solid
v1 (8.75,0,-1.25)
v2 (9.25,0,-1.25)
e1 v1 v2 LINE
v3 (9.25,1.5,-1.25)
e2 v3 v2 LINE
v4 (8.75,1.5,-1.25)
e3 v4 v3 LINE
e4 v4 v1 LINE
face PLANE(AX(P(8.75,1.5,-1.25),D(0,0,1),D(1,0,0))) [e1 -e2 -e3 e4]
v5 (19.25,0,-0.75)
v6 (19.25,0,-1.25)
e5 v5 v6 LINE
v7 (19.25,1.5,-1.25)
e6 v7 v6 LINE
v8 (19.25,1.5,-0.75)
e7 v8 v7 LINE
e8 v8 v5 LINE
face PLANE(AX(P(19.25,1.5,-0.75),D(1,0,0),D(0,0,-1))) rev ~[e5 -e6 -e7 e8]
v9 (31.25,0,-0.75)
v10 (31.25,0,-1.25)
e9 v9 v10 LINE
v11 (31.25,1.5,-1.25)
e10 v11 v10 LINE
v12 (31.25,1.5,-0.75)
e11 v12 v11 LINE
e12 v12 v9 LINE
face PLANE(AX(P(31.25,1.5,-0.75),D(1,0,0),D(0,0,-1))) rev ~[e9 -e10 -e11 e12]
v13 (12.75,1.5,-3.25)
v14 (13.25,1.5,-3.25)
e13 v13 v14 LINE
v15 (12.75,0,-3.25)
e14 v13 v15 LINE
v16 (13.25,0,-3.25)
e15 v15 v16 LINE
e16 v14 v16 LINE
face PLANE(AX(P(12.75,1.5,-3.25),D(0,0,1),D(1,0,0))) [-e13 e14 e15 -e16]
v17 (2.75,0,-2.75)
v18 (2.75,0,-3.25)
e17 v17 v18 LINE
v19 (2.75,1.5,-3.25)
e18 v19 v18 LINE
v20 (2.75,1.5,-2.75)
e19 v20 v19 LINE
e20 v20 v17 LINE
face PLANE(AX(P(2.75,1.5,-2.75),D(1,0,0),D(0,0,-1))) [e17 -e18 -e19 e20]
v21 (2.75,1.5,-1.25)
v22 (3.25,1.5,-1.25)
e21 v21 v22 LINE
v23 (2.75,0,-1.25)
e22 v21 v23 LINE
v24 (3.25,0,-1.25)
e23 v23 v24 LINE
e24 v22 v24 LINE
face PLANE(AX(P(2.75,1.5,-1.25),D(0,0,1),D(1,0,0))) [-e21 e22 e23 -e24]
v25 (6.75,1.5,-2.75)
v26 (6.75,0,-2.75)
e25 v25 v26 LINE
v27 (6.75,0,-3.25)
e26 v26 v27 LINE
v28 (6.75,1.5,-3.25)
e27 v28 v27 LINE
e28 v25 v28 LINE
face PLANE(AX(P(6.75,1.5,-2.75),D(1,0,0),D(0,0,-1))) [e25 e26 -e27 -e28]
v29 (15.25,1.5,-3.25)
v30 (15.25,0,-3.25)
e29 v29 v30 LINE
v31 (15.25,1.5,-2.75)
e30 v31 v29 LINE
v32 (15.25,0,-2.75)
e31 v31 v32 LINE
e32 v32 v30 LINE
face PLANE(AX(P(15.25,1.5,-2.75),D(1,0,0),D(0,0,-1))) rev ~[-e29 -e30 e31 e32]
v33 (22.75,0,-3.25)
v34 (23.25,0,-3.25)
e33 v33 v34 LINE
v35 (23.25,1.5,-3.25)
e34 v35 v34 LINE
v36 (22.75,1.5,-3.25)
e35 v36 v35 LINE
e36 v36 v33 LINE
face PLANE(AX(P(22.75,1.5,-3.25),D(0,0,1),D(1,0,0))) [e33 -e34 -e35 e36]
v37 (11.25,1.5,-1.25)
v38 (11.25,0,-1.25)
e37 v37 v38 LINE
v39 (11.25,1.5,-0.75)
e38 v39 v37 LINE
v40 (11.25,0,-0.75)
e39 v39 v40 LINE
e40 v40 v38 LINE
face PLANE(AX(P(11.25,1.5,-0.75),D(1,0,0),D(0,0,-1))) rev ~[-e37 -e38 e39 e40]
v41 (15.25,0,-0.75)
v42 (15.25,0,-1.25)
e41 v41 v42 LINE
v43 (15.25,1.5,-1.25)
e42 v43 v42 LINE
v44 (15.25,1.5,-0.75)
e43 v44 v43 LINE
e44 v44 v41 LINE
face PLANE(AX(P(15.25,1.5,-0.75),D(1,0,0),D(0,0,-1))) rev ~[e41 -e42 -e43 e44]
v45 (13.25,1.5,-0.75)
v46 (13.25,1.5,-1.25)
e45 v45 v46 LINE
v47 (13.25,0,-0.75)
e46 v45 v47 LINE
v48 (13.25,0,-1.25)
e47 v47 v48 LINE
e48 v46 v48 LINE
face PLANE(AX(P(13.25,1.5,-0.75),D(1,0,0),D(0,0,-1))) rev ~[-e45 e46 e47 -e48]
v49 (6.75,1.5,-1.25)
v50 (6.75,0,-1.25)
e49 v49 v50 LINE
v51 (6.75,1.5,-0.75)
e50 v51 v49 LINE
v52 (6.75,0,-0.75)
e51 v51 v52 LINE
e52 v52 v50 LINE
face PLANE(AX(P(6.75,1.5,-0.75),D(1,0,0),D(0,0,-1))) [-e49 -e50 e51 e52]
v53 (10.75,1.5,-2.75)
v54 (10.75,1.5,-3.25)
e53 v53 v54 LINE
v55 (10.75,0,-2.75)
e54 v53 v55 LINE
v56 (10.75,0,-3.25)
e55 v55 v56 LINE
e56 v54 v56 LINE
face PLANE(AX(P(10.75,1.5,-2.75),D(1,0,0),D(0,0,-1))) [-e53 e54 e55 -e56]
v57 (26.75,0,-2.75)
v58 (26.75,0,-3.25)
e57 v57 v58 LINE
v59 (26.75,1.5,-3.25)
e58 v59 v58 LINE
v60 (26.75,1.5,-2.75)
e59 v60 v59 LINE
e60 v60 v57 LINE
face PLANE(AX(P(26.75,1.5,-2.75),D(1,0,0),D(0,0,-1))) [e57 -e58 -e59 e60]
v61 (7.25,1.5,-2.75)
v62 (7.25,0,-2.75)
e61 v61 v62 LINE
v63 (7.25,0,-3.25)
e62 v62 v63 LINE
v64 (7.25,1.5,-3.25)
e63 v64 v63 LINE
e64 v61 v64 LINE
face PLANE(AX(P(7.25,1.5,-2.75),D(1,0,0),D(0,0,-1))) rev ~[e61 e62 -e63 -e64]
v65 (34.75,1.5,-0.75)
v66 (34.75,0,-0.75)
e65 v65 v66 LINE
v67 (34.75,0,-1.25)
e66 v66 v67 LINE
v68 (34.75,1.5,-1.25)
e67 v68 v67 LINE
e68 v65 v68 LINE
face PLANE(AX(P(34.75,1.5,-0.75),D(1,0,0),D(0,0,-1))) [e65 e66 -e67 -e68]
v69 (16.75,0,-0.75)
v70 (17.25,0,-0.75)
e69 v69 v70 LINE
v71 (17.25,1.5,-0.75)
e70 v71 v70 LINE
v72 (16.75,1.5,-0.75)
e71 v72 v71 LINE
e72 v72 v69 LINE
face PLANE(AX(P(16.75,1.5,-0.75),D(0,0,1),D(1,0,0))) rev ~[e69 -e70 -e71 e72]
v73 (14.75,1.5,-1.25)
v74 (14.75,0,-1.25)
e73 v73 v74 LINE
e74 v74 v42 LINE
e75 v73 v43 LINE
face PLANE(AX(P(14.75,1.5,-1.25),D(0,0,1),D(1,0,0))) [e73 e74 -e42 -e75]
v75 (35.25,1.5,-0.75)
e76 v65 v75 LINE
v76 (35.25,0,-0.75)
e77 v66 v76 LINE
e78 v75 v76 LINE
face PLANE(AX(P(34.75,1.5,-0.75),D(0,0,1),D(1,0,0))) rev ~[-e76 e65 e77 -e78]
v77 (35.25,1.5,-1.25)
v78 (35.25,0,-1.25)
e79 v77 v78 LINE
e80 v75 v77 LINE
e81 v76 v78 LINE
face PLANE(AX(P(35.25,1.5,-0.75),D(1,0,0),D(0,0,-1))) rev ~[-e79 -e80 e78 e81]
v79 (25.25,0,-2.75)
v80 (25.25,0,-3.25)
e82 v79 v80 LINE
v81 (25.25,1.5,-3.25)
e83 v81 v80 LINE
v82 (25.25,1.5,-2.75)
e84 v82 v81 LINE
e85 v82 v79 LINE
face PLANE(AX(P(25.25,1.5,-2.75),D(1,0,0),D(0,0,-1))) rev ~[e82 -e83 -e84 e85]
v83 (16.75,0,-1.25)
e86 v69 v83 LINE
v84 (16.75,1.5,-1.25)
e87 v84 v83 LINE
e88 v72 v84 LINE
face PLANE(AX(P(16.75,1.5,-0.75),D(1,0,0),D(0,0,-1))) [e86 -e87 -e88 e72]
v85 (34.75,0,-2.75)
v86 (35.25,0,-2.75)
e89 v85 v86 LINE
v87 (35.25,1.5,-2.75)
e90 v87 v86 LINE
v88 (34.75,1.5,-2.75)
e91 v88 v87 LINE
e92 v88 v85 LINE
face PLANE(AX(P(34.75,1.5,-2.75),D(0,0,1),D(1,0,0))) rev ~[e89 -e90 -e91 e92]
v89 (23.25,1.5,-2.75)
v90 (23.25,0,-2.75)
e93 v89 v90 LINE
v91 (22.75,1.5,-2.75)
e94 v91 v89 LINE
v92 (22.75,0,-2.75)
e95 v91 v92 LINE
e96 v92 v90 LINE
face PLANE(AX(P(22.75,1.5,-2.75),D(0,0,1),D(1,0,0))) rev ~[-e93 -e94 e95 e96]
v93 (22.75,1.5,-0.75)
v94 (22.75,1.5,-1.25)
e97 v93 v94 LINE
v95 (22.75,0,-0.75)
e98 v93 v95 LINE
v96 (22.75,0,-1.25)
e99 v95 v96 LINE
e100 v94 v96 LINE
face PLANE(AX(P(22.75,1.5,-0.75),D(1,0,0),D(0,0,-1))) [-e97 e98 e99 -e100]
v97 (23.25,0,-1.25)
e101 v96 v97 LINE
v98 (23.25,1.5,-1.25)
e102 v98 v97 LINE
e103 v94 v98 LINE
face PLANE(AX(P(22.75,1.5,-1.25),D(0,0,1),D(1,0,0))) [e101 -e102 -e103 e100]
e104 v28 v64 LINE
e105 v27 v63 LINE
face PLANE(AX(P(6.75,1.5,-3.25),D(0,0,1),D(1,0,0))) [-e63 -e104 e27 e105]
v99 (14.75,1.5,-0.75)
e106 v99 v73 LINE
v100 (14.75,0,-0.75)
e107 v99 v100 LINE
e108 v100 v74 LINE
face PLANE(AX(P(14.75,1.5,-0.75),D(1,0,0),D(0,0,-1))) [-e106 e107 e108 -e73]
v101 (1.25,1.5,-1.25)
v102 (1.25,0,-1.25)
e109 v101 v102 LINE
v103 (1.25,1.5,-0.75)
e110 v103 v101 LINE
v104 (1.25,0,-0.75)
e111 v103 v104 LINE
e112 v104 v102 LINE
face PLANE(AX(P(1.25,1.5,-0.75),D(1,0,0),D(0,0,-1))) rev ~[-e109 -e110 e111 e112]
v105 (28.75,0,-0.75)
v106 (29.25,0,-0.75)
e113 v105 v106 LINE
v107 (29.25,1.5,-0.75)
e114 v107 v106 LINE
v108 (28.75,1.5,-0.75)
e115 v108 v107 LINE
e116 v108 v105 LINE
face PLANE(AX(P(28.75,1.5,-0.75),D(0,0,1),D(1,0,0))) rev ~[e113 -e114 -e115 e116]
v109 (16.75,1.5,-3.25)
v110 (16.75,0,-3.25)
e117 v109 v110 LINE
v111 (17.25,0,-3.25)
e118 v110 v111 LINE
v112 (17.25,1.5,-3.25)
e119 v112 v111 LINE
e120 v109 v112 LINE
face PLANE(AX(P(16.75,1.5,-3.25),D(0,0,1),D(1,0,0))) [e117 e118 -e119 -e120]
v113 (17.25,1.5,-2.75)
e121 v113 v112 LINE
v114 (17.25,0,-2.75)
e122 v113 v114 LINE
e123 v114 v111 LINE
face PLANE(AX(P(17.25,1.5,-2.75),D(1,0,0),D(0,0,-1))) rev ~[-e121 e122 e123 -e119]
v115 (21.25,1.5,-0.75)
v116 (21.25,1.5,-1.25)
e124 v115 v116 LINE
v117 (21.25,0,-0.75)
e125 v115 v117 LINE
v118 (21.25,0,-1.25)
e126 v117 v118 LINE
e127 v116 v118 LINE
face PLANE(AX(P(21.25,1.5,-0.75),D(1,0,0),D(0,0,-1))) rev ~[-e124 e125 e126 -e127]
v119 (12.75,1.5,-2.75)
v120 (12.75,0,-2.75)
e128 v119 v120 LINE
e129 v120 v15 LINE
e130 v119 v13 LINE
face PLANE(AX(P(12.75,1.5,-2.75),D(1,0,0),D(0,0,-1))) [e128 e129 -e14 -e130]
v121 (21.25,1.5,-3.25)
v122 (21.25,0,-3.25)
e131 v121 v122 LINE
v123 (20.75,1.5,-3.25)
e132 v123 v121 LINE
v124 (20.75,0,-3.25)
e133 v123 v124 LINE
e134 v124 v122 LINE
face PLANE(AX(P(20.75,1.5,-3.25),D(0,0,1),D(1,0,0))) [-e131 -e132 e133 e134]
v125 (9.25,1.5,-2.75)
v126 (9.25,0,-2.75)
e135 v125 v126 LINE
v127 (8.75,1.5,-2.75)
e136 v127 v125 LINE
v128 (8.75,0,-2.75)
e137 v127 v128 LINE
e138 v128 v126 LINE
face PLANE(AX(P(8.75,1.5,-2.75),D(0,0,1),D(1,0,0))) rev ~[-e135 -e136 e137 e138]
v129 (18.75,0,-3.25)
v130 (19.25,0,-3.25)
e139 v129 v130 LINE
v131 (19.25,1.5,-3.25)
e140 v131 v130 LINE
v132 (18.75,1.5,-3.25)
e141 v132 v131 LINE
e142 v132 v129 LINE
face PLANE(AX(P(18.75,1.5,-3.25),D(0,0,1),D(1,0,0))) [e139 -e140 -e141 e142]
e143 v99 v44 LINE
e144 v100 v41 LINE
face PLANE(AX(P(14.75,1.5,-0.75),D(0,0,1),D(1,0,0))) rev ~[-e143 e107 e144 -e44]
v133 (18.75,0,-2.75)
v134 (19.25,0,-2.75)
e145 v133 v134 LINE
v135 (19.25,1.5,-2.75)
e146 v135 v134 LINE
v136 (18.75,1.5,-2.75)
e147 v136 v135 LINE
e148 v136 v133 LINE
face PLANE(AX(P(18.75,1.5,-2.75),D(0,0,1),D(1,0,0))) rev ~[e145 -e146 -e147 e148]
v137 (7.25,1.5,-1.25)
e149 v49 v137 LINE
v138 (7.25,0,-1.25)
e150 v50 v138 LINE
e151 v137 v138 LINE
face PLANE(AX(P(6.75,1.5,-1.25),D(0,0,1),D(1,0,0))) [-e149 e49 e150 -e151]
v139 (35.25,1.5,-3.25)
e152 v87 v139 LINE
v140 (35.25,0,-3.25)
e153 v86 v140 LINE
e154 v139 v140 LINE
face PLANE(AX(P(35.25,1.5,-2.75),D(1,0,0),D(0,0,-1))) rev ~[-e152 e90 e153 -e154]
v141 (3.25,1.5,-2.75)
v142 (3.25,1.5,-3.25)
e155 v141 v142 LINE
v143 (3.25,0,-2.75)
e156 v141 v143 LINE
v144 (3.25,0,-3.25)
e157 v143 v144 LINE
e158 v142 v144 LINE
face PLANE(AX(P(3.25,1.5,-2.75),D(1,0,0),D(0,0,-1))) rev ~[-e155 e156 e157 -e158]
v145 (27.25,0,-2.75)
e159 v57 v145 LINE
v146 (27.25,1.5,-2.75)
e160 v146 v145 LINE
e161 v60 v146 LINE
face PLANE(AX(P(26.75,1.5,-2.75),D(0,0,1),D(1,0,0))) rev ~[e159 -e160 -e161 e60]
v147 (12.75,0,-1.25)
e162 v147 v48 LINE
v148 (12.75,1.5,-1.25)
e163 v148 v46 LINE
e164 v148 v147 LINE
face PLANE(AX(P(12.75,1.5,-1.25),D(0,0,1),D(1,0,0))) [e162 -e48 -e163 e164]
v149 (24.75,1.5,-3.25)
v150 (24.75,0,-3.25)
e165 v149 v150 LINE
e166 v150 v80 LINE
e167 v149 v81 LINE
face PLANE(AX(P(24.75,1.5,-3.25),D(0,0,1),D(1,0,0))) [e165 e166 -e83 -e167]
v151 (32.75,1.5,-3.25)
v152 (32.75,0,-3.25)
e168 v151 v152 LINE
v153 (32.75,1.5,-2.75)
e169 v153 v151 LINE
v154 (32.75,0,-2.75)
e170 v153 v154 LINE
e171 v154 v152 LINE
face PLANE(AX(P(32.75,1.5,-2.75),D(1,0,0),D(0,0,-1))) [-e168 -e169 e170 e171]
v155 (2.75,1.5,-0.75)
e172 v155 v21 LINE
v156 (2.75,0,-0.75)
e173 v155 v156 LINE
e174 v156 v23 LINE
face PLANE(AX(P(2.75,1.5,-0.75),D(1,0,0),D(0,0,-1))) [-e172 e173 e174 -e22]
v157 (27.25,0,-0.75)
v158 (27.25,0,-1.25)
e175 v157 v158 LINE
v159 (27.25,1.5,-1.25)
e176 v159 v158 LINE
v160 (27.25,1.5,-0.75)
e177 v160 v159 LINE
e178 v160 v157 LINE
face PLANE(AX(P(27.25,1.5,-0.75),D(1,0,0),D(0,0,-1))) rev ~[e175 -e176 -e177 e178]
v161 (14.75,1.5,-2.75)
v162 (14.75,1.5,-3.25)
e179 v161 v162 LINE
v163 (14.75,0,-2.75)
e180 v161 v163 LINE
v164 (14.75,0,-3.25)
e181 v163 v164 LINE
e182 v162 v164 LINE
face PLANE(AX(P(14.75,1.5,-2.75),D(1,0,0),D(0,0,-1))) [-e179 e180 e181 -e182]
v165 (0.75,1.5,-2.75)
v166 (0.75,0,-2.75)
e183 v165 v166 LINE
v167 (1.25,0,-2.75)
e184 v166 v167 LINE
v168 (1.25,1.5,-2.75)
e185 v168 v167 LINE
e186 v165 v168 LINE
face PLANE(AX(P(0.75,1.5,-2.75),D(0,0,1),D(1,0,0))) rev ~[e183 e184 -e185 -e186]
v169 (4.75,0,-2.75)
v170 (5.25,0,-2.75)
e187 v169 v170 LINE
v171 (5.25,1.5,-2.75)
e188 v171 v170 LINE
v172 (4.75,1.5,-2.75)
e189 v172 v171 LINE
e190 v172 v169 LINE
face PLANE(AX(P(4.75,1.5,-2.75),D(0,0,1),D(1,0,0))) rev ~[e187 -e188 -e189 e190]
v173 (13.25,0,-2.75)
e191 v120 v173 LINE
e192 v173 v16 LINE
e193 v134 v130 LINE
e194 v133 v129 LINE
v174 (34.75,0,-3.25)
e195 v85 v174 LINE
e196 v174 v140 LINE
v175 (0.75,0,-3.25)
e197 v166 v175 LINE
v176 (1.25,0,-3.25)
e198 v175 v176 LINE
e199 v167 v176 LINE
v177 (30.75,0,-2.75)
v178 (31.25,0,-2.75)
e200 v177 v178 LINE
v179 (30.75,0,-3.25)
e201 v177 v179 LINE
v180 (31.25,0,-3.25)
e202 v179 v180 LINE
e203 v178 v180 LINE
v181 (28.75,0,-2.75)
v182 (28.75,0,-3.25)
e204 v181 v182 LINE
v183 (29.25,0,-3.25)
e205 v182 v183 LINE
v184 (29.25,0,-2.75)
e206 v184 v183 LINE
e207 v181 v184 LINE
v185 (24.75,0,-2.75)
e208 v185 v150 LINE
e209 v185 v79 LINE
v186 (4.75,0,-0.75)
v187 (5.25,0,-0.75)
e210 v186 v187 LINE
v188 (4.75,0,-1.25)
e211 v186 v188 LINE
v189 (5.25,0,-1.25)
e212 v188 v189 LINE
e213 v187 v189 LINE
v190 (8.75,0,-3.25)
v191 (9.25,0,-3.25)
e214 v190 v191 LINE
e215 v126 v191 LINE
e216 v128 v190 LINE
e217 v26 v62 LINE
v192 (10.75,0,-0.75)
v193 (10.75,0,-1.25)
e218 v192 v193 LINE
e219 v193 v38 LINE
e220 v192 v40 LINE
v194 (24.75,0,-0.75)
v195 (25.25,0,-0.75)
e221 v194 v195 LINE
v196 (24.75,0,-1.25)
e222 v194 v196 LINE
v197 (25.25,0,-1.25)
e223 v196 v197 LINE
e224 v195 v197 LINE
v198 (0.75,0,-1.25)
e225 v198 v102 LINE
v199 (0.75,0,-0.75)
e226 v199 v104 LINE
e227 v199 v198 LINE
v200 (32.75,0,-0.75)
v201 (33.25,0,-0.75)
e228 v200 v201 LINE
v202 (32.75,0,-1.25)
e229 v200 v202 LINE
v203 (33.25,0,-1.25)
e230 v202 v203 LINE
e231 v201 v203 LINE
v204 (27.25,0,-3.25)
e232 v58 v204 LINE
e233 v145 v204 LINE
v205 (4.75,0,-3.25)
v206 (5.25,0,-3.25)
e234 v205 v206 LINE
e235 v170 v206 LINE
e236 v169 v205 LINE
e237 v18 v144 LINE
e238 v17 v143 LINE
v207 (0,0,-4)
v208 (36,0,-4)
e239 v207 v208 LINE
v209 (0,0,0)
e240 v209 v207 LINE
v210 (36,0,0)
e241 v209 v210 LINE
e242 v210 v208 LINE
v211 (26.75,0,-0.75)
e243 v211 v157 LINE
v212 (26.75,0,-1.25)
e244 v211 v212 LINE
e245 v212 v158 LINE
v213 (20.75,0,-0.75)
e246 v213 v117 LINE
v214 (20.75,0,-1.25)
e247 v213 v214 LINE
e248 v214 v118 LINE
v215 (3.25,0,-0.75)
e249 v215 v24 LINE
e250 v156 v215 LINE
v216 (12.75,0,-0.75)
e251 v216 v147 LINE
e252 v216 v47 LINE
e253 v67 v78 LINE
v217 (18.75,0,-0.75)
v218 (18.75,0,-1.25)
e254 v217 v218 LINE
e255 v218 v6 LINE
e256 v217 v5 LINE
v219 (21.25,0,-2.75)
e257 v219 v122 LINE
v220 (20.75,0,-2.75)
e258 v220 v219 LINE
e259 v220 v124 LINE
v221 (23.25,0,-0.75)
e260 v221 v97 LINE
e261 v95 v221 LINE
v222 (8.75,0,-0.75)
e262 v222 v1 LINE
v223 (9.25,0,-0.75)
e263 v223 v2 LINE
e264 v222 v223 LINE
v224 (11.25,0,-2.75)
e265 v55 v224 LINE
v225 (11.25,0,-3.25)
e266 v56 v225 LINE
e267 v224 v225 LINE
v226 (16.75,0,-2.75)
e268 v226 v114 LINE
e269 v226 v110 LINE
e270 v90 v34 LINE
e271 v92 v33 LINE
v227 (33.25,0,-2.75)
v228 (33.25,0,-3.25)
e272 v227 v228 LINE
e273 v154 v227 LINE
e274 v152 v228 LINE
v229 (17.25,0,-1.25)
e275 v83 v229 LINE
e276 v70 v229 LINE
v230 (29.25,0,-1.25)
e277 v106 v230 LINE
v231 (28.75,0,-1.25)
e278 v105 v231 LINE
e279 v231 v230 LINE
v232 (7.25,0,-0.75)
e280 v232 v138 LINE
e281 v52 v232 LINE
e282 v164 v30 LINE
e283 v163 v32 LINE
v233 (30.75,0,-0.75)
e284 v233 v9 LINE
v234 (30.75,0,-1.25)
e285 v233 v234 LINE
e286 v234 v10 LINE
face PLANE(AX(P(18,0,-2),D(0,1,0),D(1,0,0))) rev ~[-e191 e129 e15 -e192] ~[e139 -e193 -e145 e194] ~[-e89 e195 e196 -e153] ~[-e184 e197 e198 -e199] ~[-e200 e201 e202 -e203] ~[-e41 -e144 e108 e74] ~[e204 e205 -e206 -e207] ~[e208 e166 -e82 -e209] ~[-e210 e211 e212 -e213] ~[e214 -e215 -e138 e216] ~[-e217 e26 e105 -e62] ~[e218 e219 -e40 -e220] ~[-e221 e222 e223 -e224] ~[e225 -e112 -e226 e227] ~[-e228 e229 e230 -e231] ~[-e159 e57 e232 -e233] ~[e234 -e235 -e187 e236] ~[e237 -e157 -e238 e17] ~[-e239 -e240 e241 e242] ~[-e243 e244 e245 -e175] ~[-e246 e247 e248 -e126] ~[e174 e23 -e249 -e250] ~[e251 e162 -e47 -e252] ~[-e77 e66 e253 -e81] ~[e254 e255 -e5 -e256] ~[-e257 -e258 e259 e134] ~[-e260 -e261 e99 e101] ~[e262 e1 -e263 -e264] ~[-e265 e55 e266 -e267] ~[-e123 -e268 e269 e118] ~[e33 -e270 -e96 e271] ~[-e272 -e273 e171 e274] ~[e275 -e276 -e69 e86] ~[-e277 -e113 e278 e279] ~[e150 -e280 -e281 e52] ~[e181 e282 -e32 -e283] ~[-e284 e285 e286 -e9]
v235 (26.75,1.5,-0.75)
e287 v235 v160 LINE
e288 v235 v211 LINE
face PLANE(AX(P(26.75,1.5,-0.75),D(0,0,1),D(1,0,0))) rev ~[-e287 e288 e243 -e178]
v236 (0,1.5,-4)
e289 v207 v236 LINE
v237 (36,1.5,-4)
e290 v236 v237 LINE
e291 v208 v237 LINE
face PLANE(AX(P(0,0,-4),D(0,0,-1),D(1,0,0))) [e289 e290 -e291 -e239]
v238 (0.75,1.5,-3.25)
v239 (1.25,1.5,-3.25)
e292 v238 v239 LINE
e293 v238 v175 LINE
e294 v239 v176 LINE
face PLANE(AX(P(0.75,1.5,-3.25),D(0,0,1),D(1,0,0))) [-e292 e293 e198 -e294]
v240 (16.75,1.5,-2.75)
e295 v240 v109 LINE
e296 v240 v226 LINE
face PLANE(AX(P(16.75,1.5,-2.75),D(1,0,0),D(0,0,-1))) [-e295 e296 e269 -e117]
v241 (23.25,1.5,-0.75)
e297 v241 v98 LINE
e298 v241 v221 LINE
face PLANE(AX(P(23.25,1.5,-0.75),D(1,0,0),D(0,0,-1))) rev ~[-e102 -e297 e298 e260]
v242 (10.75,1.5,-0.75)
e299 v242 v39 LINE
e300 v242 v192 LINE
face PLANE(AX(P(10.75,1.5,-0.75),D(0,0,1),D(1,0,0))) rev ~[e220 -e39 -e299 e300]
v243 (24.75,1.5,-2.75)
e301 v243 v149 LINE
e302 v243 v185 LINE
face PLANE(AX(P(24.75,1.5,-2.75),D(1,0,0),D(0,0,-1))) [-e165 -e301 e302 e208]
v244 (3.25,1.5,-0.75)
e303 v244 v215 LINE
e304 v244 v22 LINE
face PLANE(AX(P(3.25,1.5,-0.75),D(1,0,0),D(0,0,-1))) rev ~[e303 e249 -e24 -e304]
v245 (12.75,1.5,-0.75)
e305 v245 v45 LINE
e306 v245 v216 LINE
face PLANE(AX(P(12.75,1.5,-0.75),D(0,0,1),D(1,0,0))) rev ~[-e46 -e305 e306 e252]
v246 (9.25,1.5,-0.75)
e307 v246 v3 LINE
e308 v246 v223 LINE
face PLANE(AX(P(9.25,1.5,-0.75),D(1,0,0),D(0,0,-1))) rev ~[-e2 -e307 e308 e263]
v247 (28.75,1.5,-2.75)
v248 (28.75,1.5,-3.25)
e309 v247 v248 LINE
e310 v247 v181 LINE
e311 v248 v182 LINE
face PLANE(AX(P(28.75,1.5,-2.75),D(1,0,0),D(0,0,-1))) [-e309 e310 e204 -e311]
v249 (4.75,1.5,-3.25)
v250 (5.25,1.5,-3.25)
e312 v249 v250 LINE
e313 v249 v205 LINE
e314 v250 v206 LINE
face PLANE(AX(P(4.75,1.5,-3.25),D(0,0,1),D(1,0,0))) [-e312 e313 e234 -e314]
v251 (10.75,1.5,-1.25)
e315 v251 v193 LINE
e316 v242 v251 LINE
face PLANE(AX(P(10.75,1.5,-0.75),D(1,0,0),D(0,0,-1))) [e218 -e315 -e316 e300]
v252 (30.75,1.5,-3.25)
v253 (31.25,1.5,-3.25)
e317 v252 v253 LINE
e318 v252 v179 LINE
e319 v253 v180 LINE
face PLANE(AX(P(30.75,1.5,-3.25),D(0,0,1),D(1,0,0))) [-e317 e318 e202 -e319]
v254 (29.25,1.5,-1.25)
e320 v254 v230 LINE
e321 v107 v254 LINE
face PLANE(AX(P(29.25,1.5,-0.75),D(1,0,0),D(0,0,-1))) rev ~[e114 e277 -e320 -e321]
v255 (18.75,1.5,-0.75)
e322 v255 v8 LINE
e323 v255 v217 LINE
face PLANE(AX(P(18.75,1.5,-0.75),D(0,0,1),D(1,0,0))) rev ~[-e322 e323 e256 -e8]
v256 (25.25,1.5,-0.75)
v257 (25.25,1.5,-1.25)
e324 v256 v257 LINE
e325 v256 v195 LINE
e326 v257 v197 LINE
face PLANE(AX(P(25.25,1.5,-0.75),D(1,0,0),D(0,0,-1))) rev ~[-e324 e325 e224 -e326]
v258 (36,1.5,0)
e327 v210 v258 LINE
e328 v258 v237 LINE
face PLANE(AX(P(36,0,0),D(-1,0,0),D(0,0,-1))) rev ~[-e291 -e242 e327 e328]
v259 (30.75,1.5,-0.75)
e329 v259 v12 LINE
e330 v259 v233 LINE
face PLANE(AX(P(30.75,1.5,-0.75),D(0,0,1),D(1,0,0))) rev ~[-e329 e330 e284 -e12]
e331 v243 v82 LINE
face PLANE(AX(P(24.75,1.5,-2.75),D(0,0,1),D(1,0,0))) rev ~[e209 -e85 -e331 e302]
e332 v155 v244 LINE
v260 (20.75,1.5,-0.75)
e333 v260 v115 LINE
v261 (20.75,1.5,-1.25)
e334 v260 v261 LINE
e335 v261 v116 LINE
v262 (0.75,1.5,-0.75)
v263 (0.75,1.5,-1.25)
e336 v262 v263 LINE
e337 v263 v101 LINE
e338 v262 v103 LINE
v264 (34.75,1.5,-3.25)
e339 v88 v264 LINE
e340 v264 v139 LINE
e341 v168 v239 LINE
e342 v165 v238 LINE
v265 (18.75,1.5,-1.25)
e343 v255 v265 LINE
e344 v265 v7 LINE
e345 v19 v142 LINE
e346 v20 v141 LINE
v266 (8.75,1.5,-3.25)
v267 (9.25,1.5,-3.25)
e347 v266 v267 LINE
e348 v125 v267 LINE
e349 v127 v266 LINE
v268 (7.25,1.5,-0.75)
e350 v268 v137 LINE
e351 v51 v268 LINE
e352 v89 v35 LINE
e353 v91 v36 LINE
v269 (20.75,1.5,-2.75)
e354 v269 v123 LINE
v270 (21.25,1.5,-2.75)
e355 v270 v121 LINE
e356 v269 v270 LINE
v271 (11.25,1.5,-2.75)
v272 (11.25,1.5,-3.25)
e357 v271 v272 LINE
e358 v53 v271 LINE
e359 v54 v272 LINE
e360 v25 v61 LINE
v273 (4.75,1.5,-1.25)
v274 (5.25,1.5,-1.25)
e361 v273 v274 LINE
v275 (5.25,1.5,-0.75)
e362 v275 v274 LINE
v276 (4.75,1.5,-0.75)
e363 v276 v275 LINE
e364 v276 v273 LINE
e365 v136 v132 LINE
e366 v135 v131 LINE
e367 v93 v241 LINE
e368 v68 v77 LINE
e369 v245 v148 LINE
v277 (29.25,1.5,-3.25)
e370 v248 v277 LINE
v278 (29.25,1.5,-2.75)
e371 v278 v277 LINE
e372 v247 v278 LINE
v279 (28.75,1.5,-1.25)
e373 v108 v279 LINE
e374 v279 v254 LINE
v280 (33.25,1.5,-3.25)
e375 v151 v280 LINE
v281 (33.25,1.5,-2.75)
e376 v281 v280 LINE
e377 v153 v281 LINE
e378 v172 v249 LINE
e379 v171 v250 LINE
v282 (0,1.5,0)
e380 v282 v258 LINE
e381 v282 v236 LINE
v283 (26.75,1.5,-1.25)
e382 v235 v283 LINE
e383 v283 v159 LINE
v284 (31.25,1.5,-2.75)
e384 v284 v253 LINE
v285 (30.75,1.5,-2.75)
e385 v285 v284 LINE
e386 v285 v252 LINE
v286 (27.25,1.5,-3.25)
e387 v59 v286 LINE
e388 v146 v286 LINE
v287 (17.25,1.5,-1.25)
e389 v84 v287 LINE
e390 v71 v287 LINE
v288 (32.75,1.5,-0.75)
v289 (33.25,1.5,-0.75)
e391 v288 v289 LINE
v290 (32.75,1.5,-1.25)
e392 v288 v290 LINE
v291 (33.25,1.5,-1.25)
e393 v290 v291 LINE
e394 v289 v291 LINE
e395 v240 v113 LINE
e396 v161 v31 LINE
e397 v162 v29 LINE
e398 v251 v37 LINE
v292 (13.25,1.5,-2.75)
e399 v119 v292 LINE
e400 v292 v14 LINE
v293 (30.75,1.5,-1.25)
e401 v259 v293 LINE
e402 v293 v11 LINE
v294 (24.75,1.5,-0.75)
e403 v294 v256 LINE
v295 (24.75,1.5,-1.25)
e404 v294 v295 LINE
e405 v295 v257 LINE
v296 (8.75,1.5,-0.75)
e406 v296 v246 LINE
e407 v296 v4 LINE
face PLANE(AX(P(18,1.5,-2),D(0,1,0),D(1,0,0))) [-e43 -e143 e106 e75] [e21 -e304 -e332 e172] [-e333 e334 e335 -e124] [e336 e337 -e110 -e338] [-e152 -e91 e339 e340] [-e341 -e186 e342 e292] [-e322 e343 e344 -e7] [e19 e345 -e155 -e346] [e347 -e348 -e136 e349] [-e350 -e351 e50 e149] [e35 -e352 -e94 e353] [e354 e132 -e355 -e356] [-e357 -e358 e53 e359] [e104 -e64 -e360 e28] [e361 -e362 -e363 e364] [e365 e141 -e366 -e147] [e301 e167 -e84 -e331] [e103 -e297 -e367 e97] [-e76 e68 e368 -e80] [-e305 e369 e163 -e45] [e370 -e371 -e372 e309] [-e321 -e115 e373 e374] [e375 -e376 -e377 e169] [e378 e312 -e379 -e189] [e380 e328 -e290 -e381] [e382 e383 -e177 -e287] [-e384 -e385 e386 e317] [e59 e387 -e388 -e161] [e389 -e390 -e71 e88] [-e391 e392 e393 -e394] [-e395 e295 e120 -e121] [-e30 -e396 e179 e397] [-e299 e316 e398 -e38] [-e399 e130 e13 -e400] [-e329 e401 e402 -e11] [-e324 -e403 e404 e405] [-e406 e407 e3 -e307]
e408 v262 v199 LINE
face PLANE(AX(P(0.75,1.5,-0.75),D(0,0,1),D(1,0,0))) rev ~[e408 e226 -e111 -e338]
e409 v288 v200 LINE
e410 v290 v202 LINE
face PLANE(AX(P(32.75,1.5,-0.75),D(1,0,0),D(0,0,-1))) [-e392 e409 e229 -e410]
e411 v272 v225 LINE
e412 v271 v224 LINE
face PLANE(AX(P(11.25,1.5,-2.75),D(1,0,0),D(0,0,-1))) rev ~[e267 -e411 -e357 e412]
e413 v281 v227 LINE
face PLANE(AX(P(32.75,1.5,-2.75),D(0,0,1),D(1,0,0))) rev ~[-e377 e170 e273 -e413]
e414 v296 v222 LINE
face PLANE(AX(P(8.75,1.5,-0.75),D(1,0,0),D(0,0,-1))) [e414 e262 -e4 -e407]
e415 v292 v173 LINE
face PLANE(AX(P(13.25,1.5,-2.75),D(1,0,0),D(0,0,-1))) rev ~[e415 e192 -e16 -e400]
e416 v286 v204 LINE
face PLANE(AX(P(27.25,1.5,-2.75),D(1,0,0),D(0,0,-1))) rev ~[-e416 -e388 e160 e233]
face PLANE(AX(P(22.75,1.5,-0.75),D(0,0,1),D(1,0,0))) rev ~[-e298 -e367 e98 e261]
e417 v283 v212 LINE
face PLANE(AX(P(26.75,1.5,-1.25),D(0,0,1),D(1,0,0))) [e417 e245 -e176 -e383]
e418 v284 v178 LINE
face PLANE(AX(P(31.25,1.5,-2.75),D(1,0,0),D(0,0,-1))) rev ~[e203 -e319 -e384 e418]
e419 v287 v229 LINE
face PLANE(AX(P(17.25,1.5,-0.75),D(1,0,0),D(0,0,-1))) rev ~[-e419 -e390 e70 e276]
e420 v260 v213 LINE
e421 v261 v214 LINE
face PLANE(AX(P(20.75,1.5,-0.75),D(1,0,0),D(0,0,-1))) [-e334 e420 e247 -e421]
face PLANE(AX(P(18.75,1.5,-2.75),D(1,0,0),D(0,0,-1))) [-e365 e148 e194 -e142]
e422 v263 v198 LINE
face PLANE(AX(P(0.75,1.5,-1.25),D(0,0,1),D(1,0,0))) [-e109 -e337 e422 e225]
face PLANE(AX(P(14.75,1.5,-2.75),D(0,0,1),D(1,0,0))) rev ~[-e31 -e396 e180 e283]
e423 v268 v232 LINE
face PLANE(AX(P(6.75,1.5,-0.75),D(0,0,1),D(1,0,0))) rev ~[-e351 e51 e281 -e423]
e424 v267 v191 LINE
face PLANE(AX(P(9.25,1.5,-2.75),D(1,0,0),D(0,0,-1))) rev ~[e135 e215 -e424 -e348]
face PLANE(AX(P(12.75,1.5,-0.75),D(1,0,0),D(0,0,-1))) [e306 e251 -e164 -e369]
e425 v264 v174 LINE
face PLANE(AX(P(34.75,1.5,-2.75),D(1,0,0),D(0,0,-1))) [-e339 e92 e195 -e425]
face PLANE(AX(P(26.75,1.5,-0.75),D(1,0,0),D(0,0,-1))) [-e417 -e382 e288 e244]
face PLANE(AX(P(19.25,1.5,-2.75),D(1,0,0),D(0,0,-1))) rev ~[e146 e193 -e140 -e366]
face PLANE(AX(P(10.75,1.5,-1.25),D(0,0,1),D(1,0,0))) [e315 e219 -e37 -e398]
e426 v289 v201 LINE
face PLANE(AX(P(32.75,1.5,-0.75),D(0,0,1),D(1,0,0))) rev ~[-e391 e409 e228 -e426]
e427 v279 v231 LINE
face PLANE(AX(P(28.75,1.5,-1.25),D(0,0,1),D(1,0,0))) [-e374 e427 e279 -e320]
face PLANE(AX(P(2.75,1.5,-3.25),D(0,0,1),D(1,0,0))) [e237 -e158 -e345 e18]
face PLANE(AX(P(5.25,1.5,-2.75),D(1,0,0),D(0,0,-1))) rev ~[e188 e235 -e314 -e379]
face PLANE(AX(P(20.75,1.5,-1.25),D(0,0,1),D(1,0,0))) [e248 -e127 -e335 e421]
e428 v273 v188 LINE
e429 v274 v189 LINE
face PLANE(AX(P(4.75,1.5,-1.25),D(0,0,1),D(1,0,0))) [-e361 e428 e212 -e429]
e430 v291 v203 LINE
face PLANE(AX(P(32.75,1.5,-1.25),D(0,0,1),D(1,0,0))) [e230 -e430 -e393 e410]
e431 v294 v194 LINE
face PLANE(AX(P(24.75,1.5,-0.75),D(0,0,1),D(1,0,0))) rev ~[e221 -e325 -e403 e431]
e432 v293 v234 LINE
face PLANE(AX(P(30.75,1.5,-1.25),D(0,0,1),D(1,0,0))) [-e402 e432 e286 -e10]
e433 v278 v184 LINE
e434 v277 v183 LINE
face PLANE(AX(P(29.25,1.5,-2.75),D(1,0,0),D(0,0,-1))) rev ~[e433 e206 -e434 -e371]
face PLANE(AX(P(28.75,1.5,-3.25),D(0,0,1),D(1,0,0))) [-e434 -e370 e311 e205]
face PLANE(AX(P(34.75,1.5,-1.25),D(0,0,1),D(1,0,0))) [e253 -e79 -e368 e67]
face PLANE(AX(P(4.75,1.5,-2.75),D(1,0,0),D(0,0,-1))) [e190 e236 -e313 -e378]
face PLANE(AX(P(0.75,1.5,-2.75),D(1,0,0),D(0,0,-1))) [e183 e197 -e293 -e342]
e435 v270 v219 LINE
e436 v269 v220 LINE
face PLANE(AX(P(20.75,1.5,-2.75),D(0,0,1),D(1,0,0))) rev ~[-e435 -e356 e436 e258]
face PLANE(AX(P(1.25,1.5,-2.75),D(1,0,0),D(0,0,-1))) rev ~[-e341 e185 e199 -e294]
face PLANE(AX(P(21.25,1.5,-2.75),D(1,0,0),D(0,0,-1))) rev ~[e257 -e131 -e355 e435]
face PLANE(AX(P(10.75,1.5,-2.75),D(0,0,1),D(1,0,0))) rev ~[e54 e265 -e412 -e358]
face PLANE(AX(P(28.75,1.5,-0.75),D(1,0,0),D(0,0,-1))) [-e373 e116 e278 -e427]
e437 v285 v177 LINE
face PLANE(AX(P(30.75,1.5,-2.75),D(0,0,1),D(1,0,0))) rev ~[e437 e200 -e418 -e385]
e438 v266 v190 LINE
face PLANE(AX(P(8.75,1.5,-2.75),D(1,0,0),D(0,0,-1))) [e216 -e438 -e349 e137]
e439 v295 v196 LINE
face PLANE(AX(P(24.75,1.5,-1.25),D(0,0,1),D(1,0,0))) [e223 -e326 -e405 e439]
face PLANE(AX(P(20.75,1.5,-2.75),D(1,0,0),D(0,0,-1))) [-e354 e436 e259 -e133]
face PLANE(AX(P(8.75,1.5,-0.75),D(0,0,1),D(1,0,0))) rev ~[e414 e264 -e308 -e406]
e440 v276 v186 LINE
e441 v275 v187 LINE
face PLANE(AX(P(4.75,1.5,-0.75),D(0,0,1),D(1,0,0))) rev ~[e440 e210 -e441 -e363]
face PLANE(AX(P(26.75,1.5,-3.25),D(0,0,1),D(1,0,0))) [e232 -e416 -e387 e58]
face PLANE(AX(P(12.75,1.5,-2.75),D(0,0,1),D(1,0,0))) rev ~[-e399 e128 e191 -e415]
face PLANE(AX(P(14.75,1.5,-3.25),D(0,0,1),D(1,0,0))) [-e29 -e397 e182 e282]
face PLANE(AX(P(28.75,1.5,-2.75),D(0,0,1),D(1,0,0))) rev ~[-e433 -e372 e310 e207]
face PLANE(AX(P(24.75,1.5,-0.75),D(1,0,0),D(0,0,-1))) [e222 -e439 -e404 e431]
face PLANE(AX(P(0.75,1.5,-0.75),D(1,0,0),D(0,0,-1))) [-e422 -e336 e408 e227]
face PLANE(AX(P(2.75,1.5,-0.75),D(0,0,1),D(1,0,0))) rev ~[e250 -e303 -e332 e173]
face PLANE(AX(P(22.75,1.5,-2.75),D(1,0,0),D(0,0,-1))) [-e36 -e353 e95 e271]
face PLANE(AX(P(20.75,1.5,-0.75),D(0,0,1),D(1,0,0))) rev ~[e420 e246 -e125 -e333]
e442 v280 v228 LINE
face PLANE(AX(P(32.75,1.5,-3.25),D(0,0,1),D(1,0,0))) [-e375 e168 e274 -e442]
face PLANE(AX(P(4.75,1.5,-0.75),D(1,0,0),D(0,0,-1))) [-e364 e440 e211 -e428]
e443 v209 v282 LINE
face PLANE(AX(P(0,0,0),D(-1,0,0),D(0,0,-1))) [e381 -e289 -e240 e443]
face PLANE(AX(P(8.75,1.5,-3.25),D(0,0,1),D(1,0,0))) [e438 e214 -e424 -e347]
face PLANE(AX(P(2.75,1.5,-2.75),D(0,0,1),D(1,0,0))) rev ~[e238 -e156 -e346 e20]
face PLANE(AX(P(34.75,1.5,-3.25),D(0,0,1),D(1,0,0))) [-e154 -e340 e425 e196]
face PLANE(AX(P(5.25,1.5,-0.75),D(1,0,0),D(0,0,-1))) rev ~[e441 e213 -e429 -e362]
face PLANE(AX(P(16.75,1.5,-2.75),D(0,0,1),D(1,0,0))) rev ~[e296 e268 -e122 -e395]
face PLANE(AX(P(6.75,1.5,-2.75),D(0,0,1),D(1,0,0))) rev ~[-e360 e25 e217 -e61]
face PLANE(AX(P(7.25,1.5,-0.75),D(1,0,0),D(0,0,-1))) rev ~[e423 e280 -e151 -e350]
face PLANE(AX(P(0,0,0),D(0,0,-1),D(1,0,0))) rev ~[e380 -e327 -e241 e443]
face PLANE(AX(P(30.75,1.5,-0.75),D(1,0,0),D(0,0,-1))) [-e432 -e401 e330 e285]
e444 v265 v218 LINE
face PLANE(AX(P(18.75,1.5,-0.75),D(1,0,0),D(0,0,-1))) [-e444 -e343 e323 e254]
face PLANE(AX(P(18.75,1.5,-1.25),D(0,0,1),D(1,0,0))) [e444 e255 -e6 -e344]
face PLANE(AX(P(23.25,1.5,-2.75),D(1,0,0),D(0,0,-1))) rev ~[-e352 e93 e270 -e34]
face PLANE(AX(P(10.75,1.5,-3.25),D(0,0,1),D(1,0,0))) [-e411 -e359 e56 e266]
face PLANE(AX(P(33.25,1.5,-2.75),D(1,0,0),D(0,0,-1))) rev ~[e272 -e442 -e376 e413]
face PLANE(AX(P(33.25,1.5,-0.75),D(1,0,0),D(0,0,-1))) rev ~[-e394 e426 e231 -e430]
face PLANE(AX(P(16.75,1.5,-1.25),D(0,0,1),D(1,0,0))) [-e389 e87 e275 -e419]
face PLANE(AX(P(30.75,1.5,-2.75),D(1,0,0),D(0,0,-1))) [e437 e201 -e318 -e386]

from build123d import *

# Parameters (mm, degrees)
SKETCH1_W           = 36
SKETCH1_H           = 4
BOSS_EXTRUDE1_DEPTH = 1.5
SKETCH2_W           = 0.5
SKETCH2_H           = 0.5
CUT_EXTRUDE1_DEPTH  = 2


with BuildPart() as part:
    # Sketch1 → Boss-Extrude1 (new body)
    with BuildSketch(Plane(origin=(0, 0, 0), x_dir=(1, 0, 0), z_dir=(0, 1, 0))):
        with Locations((18, 2)):
            Rectangle(SKETCH1_W, SKETCH1_H)
    extrude(amount=BOSS_EXTRUDE1_DEPTH)

    # Sketch2 → Cut-Extrude1 (cut)
    with BuildSketch(Plane(origin=(0, 1.5, 0), x_dir=(1, 0, 0), z_dir=(0, 1, 0))):
        with Locations((3, 3)):
            Rectangle(SKETCH2_W, SKETCH2_H)
        with Locations((1, 3)):
            Rectangle(SKETCH2_W, SKETCH2_H)
        with Locations((5, 3)):
            Rectangle(SKETCH2_W, SKETCH2_H)
        with Locations((7, 3)):
            Rectangle(SKETCH2_W, SKETCH2_H)
        with Locations((9, 3)):
            Rectangle(SKETCH2_W, SKETCH2_H)
        with Locations((11, 3)):
            Rectangle(SKETCH2_W, SKETCH2_H)
        with Locations((13, 3)):
            Rectangle(SKETCH2_W, SKETCH2_H)
        with Locations((15, 3)):
            Rectangle(SKETCH2_W, SKETCH2_H)
        with Locations((17, 3)):
            Rectangle(SKETCH2_W, SKETCH2_H)
        with Locations((19, 3)):
            Rectangle(SKETCH2_W, SKETCH2_H)
        with Locations((21, 3)):
            Rectangle(SKETCH2_W, SKETCH2_H)
        with Locations((23, 3)):
            Rectangle(SKETCH2_W, SKETCH2_H)
        with Locations((25, 3)):
            Rectangle(SKETCH2_W, SKETCH2_H)
        with Locations((27, 3)):
            Rectangle(SKETCH2_W, SKETCH2_H)
        with Locations((29, 3)):
            Rectangle(SKETCH2_W, SKETCH2_H)
        with Locations((31, 3)):
            Rectangle(SKETCH2_W, SKETCH2_H)
        with Locations((33, 3)):
            Rectangle(SKETCH2_W, SKETCH2_H)
        with Locations((35, 3)):
            Rectangle(SKETCH2_W, SKETCH2_H)
        with Locations((1, 1)):
            Rectangle(SKETCH2_W, SKETCH2_H)
        with Locations((3, 1)):
            Rectangle(SKETCH2_W, SKETCH2_H)
        with Locations((5, 1)):
            Rectangle(SKETCH2_W, SKETCH2_H)
        with Locations((7, 1)):
            Rectangle(SKETCH2_W, SKETCH2_H)
        with Locations((9, 1)):
            Rectangle(SKETCH2_W, SKETCH2_H)
        with Locations((11, 1)):
            Rectangle(SKETCH2_W, SKETCH2_H)
        with Locations((13, 1)):
            Rectangle(SKETCH2_W, SKETCH2_H)
        with Locations((15, 1)):
            Rectangle(SKETCH2_W, SKETCH2_H)
        with Locations((17, 1)):
            Rectangle(SKETCH2_W, SKETCH2_H)
        with Locations((19, 1)):
            Rectangle(SKETCH2_W, SKETCH2_H)
        with Locations((21, 1)):
            Rectangle(SKETCH2_W, SKETCH2_H)
        with Locations((23, 1)):
            Rectangle(SKETCH2_W, SKETCH2_H)
        with Locations((25, 1)):
            Rectangle(SKETCH2_W, SKETCH2_H)
        with Locations((27, 1)):
            Rectangle(SKETCH2_W, SKETCH2_H)
        with Locations((29, 1)):
            Rectangle(SKETCH2_W, SKETCH2_H)
        with Locations((31, 1)):
            Rectangle(SKETCH2_W, SKETCH2_H)
        with Locations((33, 1)):
            Rectangle(SKETCH2_W, SKETCH2_H)
        with Locations((35, 1)):
            Rectangle(SKETCH2_W, SKETCH2_H)
    extrude(amount=-CUT_EXTRUDE1_DEPTH, mode=Mode.SUBTRACT)


solid = part.part
